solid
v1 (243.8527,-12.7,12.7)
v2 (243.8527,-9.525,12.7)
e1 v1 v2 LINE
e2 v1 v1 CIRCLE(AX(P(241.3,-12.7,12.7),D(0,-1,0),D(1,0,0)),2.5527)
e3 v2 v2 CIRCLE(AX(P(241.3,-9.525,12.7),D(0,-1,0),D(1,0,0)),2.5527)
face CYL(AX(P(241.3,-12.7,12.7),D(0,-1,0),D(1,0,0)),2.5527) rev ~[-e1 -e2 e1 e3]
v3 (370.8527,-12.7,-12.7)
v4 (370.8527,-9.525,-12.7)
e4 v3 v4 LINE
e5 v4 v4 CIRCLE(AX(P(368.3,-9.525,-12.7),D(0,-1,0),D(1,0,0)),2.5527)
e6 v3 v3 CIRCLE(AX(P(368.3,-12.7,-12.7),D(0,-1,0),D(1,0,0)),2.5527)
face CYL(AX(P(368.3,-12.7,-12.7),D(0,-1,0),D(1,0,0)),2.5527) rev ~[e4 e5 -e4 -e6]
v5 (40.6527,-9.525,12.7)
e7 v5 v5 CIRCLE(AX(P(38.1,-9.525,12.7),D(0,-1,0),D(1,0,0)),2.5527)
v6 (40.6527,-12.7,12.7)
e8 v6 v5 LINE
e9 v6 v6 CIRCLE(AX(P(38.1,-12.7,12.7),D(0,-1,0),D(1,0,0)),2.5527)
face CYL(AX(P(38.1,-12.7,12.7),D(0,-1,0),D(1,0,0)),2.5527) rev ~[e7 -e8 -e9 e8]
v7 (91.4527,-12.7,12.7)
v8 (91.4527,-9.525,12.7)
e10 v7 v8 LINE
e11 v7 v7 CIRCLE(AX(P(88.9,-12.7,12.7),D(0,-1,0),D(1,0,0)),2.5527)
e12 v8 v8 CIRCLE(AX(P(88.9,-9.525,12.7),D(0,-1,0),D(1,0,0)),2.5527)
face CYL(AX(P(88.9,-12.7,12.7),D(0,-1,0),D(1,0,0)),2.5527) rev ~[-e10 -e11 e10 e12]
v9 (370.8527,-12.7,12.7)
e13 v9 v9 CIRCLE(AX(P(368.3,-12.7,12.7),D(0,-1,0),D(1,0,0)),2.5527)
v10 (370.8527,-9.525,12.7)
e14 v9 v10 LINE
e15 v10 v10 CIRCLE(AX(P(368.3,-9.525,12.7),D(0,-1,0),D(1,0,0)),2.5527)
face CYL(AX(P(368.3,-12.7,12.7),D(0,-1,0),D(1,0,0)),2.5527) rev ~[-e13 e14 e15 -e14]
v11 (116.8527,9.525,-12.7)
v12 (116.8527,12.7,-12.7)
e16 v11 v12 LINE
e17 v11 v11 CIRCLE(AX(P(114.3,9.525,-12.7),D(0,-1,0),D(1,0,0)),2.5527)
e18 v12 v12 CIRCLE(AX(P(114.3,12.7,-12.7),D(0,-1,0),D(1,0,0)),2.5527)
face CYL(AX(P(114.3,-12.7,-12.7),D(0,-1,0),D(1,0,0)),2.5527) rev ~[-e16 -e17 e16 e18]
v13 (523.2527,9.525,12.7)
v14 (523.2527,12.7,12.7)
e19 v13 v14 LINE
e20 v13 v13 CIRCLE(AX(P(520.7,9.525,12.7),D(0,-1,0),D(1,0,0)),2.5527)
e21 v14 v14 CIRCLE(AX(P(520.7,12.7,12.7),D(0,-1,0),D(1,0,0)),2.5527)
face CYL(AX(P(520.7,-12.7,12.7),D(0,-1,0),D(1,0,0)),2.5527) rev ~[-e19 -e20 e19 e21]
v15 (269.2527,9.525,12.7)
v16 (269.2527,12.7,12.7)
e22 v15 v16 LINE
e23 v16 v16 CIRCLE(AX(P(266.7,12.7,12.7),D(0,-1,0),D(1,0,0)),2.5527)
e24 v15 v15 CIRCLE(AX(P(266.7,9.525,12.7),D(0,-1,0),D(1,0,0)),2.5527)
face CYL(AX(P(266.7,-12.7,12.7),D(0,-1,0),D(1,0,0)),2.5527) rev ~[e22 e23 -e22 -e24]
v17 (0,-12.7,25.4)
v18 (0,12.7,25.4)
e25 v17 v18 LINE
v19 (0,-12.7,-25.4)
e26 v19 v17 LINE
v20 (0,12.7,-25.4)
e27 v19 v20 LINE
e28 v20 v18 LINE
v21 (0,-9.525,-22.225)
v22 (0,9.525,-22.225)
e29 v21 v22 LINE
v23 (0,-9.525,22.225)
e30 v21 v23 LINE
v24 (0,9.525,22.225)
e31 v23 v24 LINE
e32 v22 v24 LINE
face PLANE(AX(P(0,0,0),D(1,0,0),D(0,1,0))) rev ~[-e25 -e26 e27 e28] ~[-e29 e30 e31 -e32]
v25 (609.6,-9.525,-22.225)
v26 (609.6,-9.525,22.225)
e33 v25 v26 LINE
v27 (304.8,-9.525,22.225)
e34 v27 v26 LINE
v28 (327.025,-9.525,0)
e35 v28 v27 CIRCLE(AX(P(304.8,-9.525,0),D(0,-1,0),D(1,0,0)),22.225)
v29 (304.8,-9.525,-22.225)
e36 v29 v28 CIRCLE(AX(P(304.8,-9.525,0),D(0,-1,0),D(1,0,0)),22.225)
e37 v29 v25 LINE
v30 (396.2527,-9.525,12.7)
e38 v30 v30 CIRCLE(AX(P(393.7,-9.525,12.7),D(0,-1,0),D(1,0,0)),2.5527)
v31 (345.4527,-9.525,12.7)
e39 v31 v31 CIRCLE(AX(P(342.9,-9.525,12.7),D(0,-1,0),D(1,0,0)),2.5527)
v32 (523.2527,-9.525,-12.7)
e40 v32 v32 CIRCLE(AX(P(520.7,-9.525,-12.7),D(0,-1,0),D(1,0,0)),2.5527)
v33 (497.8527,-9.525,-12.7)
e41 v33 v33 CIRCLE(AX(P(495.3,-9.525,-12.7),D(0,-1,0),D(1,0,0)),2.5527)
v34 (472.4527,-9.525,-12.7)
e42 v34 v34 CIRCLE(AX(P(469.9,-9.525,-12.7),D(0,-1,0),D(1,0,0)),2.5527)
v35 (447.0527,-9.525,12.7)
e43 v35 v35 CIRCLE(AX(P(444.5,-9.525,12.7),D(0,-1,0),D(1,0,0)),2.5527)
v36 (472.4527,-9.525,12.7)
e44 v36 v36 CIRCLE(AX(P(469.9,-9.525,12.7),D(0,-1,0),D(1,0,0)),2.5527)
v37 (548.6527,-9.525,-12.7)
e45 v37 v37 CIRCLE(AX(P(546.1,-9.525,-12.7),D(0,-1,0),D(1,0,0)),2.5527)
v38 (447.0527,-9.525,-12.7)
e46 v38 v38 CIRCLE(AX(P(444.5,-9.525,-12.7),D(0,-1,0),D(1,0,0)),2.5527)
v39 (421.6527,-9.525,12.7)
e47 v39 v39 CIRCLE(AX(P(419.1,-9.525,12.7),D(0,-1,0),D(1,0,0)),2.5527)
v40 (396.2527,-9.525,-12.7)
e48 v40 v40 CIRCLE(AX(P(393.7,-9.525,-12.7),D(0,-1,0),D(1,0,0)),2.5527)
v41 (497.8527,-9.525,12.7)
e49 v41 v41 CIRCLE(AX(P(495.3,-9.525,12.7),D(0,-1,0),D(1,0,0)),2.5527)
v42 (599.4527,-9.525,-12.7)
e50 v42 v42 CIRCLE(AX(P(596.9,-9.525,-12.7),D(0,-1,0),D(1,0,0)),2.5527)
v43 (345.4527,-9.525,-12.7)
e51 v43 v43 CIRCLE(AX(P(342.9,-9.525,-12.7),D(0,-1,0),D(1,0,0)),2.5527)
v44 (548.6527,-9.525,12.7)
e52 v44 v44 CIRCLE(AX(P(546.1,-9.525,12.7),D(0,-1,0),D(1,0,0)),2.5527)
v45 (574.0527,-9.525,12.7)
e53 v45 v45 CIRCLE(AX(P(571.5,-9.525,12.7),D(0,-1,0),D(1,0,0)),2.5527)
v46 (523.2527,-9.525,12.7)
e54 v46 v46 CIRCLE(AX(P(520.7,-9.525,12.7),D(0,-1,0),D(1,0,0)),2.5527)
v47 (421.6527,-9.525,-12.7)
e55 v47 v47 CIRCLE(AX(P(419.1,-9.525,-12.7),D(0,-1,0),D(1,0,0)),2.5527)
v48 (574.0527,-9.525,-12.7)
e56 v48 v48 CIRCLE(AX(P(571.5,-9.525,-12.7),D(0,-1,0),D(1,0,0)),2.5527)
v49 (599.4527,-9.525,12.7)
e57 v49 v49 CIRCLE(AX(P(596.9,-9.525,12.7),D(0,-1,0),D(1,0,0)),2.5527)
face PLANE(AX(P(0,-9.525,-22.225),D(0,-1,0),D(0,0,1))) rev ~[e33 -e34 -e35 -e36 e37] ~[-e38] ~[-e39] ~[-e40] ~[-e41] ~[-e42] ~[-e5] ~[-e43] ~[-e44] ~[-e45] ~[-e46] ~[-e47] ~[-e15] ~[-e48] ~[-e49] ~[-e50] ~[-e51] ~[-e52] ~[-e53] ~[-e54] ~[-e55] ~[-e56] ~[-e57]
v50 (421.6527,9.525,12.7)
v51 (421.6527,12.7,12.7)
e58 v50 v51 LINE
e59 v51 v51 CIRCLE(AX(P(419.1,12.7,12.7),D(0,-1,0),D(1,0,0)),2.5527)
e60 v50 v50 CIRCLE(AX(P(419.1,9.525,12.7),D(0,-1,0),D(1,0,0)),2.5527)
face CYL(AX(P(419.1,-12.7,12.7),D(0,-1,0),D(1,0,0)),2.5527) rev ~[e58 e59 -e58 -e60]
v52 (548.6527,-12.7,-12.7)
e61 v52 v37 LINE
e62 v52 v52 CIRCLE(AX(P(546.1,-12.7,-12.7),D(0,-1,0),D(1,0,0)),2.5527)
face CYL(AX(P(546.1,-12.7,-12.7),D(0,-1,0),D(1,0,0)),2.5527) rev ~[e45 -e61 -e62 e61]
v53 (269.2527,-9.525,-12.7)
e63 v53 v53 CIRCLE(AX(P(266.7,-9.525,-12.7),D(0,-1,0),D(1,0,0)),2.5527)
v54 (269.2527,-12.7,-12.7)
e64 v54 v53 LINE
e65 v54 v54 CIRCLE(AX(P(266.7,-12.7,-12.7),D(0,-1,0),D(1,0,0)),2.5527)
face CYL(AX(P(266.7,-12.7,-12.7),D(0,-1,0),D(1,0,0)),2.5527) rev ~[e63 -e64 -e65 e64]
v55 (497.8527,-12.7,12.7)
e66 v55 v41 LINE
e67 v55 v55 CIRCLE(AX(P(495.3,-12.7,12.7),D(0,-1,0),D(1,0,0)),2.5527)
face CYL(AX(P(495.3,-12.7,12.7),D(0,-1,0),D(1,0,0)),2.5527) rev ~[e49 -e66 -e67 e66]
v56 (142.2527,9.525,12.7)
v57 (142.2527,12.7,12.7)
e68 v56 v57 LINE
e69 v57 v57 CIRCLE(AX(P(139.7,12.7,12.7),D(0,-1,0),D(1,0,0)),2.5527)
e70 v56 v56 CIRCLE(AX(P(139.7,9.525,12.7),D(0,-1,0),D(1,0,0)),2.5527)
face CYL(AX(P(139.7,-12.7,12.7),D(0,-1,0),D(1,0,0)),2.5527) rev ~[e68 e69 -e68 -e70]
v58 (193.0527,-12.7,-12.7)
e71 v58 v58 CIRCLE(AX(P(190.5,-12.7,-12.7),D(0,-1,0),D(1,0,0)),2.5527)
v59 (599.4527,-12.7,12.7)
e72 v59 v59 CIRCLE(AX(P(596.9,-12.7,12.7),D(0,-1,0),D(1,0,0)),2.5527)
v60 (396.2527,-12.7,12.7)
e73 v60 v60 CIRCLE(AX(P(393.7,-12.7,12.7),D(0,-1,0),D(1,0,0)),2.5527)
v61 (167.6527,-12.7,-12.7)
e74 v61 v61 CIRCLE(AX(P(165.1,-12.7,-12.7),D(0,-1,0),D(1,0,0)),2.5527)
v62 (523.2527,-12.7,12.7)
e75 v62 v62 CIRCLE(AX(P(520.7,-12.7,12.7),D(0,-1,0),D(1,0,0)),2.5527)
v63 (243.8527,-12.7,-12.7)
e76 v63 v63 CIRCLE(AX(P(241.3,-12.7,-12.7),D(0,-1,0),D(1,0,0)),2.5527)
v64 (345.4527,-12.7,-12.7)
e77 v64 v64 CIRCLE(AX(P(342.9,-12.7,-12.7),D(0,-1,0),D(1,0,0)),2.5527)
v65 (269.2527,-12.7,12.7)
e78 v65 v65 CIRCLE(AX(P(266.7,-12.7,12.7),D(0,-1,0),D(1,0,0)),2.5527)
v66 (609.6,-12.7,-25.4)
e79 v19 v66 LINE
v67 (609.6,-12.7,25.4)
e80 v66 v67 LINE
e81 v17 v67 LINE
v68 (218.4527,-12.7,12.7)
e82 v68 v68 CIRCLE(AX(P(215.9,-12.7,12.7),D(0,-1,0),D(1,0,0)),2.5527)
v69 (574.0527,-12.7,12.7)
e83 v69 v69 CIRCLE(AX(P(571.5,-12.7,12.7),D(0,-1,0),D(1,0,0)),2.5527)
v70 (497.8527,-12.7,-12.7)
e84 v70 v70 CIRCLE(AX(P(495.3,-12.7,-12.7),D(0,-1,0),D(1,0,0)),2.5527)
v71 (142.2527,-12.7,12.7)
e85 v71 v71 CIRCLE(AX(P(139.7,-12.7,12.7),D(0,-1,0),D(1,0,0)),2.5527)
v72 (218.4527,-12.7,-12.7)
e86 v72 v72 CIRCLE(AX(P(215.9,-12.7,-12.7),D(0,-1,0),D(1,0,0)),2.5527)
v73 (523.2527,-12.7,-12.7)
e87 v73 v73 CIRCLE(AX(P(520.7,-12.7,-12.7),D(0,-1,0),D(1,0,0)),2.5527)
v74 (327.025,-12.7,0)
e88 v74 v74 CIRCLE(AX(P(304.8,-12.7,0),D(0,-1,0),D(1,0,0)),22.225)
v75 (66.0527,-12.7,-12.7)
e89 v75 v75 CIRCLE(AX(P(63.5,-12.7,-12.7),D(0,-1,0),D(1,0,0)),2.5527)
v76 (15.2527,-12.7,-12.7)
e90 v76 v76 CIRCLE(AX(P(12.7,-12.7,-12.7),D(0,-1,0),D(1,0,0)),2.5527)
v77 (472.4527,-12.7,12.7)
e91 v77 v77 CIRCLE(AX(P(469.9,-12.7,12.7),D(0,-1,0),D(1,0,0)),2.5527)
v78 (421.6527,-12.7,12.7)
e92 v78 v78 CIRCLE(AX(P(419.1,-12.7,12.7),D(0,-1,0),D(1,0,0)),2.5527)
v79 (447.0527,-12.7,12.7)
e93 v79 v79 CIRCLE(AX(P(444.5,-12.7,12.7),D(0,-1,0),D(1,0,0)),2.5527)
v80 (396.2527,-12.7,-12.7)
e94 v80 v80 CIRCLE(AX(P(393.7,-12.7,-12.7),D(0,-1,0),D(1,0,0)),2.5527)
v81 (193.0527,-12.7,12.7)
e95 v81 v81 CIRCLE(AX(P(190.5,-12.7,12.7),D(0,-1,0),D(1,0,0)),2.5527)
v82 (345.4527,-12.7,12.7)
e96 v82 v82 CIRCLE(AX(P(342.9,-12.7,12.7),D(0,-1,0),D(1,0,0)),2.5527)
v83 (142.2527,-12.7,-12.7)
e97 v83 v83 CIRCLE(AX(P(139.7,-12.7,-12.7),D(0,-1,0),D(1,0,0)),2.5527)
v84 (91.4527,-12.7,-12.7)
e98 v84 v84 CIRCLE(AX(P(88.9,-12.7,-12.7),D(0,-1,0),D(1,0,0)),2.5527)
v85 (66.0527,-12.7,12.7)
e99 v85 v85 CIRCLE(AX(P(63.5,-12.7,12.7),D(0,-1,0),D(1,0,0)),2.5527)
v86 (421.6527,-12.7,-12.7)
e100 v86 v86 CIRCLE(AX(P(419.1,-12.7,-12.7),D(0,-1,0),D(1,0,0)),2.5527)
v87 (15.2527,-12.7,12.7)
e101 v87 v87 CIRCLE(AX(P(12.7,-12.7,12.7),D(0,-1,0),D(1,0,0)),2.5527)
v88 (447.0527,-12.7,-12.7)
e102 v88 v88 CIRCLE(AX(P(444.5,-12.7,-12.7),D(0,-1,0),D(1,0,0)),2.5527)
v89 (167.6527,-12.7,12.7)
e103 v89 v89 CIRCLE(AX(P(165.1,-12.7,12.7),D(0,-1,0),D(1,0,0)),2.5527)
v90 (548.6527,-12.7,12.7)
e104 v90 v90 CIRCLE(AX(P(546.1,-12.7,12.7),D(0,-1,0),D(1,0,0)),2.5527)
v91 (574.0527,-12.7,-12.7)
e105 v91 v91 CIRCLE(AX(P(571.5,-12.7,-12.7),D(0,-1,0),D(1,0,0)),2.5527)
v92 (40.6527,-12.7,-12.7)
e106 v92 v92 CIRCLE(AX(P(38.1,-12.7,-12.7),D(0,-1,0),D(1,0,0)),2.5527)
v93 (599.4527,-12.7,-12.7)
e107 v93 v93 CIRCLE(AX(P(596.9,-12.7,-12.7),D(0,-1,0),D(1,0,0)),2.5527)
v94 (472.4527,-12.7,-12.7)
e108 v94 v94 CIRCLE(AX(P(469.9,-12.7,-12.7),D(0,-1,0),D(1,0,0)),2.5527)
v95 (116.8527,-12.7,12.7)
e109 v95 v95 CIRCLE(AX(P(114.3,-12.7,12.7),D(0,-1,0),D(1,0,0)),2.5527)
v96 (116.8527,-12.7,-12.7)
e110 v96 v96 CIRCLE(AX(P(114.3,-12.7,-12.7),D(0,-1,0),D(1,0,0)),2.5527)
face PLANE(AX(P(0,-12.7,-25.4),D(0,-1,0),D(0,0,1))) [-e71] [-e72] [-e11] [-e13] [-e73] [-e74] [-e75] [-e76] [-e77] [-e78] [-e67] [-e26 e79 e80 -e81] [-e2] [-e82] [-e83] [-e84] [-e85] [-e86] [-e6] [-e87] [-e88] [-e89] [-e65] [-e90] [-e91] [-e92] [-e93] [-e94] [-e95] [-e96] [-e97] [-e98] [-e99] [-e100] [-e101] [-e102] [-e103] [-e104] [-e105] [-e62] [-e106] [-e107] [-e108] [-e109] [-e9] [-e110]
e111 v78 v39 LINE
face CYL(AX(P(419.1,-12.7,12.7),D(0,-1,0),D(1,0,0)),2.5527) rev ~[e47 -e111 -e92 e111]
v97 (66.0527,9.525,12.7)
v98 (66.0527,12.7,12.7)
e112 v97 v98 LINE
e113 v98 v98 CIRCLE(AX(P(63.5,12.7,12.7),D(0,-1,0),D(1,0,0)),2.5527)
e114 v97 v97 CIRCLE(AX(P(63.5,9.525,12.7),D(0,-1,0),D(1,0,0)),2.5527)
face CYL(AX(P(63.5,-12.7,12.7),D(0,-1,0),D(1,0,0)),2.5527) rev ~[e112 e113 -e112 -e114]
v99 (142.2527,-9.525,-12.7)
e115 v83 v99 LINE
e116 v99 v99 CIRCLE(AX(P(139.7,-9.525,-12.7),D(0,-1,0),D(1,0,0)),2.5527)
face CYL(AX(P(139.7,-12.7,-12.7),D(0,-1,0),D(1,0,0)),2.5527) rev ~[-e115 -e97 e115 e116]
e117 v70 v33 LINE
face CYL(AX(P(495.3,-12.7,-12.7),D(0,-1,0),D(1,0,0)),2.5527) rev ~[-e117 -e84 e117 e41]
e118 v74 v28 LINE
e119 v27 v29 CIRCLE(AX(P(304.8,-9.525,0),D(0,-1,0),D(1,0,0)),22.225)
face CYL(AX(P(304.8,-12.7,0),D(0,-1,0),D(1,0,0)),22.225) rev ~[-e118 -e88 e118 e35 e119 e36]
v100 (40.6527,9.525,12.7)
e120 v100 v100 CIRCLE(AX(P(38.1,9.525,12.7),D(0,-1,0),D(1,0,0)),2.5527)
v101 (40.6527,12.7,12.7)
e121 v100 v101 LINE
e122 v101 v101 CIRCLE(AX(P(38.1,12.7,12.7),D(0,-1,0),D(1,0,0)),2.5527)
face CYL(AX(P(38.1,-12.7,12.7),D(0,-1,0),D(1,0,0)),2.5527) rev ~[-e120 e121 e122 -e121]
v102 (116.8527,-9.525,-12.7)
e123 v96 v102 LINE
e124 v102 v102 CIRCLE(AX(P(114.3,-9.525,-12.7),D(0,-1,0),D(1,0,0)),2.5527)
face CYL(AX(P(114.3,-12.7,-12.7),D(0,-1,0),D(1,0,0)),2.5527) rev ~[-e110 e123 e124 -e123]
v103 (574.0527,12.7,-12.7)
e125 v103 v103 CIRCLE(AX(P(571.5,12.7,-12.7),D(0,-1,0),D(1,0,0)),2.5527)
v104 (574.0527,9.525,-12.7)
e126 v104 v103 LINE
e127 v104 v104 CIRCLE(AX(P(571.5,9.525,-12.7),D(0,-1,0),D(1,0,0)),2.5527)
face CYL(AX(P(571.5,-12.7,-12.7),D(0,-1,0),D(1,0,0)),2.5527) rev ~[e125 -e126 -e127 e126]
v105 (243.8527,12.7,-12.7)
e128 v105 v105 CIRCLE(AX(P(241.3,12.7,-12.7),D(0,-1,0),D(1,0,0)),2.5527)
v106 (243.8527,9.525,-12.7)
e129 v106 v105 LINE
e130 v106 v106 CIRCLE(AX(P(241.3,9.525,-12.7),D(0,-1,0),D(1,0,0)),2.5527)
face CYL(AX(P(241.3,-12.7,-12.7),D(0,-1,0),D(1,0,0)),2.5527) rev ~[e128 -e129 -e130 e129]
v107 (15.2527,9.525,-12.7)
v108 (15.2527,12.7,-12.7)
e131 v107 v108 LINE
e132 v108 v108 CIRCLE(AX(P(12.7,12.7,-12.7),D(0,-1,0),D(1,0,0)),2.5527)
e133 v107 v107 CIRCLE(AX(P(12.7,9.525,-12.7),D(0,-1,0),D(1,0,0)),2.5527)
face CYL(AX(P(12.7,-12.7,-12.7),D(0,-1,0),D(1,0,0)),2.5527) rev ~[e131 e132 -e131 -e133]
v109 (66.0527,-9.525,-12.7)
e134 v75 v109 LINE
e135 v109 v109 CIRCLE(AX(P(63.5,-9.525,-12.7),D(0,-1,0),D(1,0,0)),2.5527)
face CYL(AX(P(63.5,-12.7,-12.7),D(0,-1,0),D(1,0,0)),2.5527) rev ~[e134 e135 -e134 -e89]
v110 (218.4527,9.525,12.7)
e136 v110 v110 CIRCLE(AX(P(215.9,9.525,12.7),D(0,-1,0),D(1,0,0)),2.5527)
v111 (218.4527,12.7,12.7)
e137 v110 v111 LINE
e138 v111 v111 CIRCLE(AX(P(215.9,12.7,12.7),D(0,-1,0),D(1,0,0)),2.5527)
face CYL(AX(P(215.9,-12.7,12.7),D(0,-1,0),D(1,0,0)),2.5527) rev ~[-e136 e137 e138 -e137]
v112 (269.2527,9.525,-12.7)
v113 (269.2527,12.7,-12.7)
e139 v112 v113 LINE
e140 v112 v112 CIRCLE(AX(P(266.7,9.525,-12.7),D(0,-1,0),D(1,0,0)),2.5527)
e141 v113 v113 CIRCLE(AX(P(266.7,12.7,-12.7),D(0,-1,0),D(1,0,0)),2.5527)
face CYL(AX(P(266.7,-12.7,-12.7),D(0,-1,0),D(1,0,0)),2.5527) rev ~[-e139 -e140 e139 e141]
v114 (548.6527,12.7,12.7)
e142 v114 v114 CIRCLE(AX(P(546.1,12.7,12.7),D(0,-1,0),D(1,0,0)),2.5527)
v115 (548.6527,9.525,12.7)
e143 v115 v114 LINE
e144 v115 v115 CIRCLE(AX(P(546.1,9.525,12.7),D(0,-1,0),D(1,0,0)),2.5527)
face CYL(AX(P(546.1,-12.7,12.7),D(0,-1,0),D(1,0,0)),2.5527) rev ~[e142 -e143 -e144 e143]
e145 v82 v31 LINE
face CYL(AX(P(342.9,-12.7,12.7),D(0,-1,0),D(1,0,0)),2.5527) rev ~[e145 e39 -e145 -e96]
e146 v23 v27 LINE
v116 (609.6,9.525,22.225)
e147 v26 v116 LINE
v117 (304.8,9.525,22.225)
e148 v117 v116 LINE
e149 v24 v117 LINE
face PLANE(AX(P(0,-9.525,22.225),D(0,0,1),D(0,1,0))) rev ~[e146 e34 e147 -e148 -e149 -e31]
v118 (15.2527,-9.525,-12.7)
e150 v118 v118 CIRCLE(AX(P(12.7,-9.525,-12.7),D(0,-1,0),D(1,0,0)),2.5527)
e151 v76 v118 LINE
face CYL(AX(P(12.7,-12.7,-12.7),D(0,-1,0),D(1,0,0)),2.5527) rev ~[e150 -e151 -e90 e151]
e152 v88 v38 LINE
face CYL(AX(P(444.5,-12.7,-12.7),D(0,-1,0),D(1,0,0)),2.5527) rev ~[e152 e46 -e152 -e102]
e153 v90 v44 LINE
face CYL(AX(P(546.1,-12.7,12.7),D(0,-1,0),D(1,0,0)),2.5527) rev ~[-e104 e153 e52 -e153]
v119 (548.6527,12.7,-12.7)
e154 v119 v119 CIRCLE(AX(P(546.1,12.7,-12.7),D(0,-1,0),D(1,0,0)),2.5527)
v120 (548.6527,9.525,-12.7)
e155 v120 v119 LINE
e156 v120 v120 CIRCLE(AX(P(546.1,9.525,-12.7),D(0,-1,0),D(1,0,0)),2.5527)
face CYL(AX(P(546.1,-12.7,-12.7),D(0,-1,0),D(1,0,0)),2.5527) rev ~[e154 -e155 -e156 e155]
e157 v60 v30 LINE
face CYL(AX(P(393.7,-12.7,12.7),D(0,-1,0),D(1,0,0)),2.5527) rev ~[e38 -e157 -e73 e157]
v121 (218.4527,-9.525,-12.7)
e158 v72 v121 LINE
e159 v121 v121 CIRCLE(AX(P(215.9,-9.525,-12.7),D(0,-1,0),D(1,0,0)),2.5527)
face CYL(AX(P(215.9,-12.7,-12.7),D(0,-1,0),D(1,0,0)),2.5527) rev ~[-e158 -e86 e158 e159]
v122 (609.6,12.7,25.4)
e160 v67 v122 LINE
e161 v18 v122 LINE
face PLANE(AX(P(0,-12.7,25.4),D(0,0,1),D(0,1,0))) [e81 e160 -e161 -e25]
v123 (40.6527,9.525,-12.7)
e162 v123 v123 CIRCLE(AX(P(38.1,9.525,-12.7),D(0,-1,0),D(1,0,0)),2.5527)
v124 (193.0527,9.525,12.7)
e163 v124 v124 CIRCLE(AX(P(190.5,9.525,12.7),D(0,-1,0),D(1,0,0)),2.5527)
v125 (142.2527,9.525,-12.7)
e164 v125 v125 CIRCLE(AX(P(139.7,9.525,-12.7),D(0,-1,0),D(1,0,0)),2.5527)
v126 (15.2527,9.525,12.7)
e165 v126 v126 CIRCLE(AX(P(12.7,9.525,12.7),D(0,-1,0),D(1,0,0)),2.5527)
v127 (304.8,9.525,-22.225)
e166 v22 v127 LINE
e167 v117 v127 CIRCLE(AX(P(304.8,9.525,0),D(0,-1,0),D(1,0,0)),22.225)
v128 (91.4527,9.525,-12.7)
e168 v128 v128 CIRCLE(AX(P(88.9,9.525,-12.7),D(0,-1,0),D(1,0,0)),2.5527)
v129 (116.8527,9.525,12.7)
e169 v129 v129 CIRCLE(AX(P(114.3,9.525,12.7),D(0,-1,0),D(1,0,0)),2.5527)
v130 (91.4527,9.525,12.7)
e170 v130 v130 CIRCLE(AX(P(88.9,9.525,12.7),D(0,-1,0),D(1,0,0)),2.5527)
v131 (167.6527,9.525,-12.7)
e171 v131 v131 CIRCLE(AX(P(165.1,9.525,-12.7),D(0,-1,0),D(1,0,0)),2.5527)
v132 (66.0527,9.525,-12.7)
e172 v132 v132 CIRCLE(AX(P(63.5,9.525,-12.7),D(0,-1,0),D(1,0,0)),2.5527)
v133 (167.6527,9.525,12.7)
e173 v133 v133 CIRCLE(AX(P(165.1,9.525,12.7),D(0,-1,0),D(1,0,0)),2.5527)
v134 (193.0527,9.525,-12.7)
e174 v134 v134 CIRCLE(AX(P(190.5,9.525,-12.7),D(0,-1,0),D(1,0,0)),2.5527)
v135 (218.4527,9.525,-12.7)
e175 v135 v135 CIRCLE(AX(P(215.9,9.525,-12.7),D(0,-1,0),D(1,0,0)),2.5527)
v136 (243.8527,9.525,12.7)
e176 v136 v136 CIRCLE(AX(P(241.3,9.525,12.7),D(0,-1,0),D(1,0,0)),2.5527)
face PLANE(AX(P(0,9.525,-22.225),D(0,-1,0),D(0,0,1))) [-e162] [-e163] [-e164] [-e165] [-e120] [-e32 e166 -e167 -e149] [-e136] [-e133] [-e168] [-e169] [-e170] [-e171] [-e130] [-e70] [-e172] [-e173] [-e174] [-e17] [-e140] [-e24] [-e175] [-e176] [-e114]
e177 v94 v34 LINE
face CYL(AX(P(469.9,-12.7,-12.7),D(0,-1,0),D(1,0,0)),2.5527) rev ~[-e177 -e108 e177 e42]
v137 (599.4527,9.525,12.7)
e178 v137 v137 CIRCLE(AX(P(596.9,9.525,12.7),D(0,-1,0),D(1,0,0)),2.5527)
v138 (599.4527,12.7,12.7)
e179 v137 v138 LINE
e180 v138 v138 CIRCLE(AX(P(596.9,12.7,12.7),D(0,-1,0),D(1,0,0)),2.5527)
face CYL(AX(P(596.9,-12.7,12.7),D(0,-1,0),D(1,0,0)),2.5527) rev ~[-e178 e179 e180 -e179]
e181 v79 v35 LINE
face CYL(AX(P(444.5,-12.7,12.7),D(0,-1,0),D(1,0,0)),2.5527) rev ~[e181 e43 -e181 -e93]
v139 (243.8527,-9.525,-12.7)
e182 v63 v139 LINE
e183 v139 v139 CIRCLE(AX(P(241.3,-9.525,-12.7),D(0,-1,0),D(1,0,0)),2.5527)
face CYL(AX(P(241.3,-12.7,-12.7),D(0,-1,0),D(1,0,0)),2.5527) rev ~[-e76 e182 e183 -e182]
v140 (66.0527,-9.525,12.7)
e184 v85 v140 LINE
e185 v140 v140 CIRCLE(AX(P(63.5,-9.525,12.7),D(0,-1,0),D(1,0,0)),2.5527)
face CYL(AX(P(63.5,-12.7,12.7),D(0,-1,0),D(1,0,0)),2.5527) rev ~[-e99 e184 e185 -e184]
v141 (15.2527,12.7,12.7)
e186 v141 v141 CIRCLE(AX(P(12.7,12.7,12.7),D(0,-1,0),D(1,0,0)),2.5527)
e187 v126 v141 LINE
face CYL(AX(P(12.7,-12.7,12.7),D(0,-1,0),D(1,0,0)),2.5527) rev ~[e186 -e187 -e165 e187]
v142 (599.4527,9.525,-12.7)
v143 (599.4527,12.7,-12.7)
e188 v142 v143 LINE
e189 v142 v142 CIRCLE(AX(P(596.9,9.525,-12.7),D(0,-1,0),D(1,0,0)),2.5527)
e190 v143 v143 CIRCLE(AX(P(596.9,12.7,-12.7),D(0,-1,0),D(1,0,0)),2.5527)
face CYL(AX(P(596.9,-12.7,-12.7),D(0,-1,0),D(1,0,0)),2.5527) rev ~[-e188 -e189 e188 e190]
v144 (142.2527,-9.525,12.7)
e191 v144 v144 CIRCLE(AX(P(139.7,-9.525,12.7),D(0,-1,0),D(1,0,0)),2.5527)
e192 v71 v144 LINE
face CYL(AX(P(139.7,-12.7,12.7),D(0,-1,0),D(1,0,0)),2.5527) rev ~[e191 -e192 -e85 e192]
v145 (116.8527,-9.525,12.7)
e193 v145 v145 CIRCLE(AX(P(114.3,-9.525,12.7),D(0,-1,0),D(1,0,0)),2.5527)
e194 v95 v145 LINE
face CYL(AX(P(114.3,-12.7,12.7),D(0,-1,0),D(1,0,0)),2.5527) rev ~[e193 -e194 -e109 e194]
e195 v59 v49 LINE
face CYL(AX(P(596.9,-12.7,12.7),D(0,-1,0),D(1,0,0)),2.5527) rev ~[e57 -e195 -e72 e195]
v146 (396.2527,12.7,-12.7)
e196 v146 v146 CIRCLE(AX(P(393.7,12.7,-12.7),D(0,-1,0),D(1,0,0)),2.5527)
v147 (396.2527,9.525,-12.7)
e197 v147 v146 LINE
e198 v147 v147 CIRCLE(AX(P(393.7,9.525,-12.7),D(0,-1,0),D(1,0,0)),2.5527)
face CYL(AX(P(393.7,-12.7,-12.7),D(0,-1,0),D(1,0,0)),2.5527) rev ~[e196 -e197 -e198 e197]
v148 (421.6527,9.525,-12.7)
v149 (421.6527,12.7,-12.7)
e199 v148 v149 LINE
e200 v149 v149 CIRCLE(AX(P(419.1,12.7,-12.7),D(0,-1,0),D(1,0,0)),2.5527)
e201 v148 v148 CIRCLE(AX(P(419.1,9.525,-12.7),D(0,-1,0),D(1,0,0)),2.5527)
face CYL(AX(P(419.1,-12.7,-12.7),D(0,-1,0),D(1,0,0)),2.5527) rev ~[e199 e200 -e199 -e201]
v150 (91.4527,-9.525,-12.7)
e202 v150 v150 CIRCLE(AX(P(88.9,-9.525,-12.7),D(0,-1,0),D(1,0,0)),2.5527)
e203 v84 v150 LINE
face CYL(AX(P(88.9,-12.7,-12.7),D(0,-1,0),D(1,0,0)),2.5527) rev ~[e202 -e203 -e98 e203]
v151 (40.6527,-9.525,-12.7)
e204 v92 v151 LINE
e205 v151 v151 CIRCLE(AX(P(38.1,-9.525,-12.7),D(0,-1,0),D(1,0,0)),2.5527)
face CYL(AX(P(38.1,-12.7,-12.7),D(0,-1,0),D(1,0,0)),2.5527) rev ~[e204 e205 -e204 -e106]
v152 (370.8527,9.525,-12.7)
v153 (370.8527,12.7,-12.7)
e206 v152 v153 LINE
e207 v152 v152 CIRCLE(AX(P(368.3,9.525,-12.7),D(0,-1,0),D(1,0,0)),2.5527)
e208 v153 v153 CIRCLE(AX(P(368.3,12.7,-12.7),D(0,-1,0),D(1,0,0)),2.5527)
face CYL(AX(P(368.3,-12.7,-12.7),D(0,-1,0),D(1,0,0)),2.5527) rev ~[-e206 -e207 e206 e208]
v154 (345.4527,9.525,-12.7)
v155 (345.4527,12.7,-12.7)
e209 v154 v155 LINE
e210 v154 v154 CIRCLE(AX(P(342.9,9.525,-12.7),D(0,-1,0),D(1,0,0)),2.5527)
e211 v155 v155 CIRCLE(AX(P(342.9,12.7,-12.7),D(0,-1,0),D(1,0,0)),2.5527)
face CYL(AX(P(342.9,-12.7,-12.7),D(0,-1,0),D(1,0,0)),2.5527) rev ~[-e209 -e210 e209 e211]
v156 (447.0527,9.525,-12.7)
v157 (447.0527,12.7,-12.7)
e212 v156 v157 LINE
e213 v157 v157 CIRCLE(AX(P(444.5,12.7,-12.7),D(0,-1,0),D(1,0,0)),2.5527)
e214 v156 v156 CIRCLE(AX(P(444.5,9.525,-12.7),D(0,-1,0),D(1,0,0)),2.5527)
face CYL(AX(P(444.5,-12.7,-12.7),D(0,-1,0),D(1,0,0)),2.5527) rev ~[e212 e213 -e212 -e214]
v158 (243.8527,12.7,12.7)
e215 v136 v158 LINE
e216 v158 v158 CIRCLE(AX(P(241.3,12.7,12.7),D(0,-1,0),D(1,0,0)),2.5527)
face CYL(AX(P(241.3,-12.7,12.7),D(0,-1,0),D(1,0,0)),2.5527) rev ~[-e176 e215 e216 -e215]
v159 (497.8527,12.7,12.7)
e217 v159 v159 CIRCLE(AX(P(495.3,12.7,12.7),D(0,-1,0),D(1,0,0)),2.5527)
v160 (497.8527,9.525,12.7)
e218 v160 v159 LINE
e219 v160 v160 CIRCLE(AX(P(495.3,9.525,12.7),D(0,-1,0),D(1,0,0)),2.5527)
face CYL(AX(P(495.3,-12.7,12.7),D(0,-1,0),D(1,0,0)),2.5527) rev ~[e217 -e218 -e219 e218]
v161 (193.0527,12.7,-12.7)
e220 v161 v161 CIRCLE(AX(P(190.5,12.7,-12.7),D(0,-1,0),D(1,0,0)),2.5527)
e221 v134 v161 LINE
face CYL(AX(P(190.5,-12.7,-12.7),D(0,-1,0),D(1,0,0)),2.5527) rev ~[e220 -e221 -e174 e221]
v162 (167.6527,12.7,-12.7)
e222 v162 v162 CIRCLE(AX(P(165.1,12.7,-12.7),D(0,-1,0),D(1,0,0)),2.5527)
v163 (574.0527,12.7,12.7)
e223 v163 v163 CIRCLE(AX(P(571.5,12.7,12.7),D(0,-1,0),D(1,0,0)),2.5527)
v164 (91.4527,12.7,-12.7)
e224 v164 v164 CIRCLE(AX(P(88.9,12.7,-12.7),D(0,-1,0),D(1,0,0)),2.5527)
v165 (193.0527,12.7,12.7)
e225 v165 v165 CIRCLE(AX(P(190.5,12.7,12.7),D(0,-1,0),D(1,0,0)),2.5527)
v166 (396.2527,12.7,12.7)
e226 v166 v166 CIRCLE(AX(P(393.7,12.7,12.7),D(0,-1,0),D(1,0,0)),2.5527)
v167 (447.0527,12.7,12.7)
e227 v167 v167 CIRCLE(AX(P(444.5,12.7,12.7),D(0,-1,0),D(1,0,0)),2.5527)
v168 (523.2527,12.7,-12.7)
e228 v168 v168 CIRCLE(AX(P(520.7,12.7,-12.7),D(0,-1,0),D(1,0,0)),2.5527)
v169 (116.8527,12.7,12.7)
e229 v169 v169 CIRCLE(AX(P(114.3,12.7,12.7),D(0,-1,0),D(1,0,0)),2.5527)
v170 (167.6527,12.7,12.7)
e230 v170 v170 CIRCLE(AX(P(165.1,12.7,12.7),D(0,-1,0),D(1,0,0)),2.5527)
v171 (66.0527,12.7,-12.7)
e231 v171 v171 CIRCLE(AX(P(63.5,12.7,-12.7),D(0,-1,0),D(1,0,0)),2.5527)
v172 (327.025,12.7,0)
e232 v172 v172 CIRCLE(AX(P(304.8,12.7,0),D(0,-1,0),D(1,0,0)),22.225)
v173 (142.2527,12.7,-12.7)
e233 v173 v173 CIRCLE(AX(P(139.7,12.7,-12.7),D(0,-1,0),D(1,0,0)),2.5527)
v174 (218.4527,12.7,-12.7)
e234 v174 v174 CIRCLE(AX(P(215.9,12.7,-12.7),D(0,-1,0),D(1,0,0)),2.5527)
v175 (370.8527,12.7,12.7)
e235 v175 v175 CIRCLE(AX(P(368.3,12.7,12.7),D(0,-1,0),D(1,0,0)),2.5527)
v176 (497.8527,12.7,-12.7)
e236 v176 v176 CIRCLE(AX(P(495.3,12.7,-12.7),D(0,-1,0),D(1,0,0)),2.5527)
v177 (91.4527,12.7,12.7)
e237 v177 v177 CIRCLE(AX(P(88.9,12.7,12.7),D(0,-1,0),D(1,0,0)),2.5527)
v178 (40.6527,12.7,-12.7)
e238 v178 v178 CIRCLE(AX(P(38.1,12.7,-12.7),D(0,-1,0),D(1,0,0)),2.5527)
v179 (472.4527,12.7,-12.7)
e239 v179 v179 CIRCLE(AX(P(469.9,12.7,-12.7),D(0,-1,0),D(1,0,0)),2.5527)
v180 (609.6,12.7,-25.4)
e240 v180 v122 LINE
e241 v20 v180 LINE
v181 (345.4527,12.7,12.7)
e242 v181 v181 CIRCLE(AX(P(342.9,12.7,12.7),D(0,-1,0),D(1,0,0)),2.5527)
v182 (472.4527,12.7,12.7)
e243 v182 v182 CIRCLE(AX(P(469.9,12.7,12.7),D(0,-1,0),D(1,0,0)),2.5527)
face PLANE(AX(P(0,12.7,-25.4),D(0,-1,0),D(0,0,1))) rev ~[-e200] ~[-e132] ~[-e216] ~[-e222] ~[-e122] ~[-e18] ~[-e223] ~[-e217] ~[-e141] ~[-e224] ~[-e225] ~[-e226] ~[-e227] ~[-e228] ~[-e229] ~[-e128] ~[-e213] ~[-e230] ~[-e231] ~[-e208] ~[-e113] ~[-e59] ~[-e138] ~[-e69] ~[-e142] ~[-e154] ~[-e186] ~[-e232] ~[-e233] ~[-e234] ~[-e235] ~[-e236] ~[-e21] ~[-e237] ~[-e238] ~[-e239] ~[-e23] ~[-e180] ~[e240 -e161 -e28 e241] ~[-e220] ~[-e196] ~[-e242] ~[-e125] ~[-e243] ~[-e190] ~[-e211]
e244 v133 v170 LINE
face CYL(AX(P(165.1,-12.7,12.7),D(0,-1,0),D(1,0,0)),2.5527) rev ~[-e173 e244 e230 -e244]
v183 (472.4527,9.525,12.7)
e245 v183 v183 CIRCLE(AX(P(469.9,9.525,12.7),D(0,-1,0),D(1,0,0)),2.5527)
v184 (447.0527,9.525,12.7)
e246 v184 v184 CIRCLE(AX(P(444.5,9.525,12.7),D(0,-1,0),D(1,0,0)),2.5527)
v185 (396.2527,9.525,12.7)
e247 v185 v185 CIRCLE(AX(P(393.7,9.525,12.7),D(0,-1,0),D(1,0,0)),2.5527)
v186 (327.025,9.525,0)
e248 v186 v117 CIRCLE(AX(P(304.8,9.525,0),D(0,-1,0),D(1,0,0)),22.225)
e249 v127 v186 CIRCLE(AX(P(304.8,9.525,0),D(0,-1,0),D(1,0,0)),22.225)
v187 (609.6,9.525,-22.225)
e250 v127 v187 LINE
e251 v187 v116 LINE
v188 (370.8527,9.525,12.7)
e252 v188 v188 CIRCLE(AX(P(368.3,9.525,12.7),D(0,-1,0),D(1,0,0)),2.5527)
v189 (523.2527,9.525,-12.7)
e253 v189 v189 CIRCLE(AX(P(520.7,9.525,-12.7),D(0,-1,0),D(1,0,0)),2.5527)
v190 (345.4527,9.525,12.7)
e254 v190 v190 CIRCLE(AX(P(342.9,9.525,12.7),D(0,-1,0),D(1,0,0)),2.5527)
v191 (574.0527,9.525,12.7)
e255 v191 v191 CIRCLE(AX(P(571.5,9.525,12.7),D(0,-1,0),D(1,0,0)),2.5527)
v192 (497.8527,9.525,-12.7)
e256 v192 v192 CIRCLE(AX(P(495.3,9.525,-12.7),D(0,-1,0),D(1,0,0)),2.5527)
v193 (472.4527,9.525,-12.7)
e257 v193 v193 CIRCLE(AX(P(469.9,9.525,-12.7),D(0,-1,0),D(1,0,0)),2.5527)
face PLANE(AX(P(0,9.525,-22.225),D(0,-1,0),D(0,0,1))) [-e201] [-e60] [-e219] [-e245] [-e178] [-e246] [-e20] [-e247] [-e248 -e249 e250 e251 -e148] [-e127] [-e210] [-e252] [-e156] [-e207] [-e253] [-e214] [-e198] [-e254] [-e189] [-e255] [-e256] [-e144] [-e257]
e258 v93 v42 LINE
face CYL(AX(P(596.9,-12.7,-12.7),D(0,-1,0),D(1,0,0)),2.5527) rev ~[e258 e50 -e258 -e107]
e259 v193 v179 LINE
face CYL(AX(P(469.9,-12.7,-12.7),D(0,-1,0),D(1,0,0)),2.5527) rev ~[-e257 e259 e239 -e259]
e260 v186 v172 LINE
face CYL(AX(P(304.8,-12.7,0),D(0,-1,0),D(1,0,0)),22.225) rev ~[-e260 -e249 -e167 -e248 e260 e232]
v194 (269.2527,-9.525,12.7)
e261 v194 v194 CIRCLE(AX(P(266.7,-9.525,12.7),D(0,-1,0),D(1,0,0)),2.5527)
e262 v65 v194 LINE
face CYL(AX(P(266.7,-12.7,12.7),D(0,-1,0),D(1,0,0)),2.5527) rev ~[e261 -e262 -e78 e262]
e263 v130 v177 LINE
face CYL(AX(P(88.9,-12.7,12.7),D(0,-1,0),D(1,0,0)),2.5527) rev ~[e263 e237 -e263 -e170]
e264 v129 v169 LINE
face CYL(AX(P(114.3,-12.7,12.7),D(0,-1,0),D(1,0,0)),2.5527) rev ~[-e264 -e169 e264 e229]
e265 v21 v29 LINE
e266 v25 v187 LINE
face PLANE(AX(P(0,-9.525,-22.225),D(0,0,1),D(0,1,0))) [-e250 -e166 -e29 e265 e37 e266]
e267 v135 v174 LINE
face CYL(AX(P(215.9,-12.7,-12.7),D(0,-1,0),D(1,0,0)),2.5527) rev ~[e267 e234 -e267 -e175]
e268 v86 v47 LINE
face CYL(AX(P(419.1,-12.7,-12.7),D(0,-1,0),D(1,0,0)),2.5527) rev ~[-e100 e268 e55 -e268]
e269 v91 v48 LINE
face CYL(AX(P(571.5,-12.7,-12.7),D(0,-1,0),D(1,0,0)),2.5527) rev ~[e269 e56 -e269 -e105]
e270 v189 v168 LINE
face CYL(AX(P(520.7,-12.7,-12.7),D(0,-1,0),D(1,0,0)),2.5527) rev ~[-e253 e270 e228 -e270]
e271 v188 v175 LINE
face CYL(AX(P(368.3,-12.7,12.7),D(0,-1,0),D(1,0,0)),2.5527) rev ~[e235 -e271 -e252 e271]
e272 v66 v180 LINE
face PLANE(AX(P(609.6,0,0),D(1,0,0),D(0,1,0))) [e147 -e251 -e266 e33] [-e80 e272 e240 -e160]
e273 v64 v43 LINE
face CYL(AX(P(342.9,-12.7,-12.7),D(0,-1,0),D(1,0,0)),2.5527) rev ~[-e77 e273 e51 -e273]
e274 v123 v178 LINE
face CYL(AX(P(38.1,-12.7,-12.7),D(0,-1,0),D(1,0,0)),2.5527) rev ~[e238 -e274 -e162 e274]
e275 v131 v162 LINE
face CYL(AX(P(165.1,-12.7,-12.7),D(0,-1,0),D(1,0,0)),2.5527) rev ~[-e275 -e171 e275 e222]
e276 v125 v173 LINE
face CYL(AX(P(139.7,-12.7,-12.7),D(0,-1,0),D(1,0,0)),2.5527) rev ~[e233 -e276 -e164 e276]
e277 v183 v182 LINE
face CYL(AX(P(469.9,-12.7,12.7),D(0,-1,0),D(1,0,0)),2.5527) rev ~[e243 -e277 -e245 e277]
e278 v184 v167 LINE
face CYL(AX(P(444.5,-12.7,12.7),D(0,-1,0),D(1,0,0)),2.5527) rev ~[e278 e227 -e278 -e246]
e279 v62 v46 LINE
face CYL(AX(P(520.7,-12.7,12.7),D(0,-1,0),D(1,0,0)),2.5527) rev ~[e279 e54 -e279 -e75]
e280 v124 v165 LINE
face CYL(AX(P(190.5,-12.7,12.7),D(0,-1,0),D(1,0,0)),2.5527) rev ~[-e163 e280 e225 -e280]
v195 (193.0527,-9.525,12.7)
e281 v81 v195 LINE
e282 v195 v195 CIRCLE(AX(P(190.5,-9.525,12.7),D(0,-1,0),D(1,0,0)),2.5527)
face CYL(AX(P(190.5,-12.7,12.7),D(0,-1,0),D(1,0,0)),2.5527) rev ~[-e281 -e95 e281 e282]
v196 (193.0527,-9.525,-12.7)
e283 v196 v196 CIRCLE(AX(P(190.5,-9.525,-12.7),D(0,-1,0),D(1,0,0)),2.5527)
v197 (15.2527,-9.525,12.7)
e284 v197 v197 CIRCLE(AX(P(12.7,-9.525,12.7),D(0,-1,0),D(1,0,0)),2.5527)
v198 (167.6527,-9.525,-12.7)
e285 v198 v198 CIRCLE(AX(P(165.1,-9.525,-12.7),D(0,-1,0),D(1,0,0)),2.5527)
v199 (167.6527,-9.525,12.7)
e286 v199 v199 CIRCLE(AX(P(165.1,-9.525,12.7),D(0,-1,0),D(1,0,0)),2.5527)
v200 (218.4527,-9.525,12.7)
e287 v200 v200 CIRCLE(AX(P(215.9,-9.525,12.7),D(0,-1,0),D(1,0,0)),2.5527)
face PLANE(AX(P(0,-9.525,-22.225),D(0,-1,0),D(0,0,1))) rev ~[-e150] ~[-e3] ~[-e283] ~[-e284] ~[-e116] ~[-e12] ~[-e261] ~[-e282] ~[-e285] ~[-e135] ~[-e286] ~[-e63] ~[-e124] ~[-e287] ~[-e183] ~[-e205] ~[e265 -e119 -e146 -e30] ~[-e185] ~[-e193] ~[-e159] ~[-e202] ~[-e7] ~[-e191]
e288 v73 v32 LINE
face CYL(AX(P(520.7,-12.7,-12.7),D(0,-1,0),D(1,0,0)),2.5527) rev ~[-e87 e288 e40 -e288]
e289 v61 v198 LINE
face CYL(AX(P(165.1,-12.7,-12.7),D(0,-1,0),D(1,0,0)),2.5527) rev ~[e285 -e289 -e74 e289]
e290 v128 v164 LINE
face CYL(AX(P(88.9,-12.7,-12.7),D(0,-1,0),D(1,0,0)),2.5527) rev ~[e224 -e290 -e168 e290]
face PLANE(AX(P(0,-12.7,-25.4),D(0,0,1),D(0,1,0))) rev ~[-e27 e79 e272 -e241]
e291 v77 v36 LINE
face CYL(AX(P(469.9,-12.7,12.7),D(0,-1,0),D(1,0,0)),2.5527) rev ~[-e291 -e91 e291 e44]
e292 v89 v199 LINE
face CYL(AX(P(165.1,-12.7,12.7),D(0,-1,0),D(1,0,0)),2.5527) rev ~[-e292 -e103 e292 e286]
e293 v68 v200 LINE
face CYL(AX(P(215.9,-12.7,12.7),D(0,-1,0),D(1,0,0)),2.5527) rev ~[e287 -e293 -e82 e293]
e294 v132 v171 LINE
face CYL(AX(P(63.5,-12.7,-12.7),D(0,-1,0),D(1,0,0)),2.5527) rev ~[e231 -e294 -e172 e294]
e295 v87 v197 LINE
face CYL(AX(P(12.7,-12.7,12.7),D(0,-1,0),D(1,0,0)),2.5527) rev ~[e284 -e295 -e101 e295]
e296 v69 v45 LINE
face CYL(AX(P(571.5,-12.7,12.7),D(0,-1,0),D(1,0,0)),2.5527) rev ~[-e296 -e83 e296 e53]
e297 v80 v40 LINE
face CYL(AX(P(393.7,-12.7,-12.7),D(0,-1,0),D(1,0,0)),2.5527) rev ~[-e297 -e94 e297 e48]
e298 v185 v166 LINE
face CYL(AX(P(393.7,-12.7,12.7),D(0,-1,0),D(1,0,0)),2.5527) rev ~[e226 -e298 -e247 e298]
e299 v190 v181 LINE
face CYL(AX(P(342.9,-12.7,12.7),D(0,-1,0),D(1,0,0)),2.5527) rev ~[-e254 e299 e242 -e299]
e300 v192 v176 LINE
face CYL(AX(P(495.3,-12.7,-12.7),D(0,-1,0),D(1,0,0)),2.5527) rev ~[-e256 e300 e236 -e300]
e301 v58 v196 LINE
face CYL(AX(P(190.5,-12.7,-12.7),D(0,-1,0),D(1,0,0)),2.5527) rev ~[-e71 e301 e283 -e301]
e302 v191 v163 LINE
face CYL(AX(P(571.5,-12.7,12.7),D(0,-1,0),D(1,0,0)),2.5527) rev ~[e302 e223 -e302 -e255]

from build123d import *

# Parameters (mm, degrees)
F0_W     = 25.4
F0_H     = 50.8
F0_W_2   = 19.05
F0_H_2   = 44.45
F1_DEPTH = 609.6
F2_R     = 2.5527
F3_DEPTH = 25.4
F4_R     = 22.225
F5_DEPTH = 25.4


with BuildPart() as f1:
    # F0 (on Right) → F1 (new body)
    with BuildSketch(Plane.YZ):
        Rectangle(F0_W, F0_H)
        Rectangle(F0_W_2, F0_H_2, mode=Mode.SUBTRACT)
    extrude(amount=F1_DEPTH)

    # F2 (on face) → F3 (cut)
    with BuildSketch(Plane.XZ.offset(12.7)):
        with Locations((12.7, 12.7)):
            Circle(F2_R)
        with Locations((12.7, -12.7)):
            Circle(F2_R)
        with Locations((38.1, 12.7)):
            Circle(F2_R)
        with Locations((38.1, -12.7)):
            Circle(F2_R)
        with Locations((63.5, 12.7)):
            Circle(F2_R)
        with Locations((63.5, -12.7)):
            Circle(F2_R)
        with Locations((88.9, 12.7)):
            Circle(F2_R)
        with Locations((88.9, -12.7)):
            Circle(F2_R)
        with Locations((114.3, 12.7)):
            Circle(F2_R)
        with Locations((114.3, -12.7)):
            Circle(F2_R)
        with Locations((139.7, 12.7)):
            Circle(F2_R)
        with Locations((139.7, -12.7)):
            Circle(F2_R)
        with Locations((165.1, 12.7)):
            Circle(F2_R)
        with Locations((165.1, -12.7)):
            Circle(F2_R)
        with Locations((190.5, 12.7)):
            Circle(F2_R)
        with Locations((190.5, -12.7)):
            Circle(F2_R)
        with Locations((215.9, 12.7)):
            Circle(F2_R)
        with Locations((215.9, -12.7)):
            Circle(F2_R)
        with Locations((241.3, 12.7)):
            Circle(F2_R)
        with Locations((241.3, -12.7)):
            Circle(F2_R)
        with Locations((266.7, 12.7)):
            Circle(F2_R)
        with Locations((266.7, -12.7)):
            Circle(F2_R)
        with Locations((292.1, 12.7)):
            Circle(F2_R)
        with Locations((292.1, -12.7)):
            Circle(F2_R)
        with Locations((317.5, 12.7)):
            Circle(F2_R)
        with Locations((317.5, -12.7)):
            Circle(F2_R)
        with Locations((342.9, 12.7)):
            Circle(F2_R)
        with Locations((342.9, -12.7)):
            Circle(F2_R)
        with Locations((368.3, 12.7)):
            Circle(F2_R)
        with Locations((368.3, -12.7)):
            Circle(F2_R)
        with Locations((393.7, 12.7)):
            Circle(F2_R)
        with Locations((393.7, -12.7)):
            Circle(F2_R)
        with Locations((419.1, 12.7)):
            Circle(F2_R)
        with Locations((419.1, -12.7)):
            Circle(F2_R)
        with Locations((444.5, 12.7)):
            Circle(F2_R)
        with Locations((444.5, -12.7)):
            Circle(F2_R)
        with Locations((469.9, 12.7)):
            Circle(F2_R)
        with Locations((469.9, -12.7)):
            Circle(F2_R)
        with Locations((495.3, 12.7)):
            Circle(F2_R)
        with Locations((495.3, -12.7)):
            Circle(F2_R)
        with Locations((520.7, 12.7)):
            Circle(F2_R)
        with Locations((520.7, -12.7)):
            Circle(F2_R)
        with Locations((546.1, 12.7)):
            Circle(F2_R)
        with Locations((546.1, -12.7)):
            Circle(F2_R)
        with Locations((571.5, 12.7)):
            Circle(F2_R)
        with Locations((571.5, -12.7)):
            Circle(F2_R)
        with Locations((596.9, 12.7)):
            Circle(F2_R)
        with Locations((596.9, -12.7)):
            Circle(F2_R)
    extrude(amount=-F3_DEPTH, mode=Mode.SUBTRACT)

    # F4 (on face) → F5 (cut)
    with BuildSketch(Plane.XZ.offset(12.7)):
        with Locations((304.8, 0)):
            Circle(F4_R)
    extrude(amount=-F5_DEPTH, mode=Mode.SUBTRACT)


solid = f1.part
